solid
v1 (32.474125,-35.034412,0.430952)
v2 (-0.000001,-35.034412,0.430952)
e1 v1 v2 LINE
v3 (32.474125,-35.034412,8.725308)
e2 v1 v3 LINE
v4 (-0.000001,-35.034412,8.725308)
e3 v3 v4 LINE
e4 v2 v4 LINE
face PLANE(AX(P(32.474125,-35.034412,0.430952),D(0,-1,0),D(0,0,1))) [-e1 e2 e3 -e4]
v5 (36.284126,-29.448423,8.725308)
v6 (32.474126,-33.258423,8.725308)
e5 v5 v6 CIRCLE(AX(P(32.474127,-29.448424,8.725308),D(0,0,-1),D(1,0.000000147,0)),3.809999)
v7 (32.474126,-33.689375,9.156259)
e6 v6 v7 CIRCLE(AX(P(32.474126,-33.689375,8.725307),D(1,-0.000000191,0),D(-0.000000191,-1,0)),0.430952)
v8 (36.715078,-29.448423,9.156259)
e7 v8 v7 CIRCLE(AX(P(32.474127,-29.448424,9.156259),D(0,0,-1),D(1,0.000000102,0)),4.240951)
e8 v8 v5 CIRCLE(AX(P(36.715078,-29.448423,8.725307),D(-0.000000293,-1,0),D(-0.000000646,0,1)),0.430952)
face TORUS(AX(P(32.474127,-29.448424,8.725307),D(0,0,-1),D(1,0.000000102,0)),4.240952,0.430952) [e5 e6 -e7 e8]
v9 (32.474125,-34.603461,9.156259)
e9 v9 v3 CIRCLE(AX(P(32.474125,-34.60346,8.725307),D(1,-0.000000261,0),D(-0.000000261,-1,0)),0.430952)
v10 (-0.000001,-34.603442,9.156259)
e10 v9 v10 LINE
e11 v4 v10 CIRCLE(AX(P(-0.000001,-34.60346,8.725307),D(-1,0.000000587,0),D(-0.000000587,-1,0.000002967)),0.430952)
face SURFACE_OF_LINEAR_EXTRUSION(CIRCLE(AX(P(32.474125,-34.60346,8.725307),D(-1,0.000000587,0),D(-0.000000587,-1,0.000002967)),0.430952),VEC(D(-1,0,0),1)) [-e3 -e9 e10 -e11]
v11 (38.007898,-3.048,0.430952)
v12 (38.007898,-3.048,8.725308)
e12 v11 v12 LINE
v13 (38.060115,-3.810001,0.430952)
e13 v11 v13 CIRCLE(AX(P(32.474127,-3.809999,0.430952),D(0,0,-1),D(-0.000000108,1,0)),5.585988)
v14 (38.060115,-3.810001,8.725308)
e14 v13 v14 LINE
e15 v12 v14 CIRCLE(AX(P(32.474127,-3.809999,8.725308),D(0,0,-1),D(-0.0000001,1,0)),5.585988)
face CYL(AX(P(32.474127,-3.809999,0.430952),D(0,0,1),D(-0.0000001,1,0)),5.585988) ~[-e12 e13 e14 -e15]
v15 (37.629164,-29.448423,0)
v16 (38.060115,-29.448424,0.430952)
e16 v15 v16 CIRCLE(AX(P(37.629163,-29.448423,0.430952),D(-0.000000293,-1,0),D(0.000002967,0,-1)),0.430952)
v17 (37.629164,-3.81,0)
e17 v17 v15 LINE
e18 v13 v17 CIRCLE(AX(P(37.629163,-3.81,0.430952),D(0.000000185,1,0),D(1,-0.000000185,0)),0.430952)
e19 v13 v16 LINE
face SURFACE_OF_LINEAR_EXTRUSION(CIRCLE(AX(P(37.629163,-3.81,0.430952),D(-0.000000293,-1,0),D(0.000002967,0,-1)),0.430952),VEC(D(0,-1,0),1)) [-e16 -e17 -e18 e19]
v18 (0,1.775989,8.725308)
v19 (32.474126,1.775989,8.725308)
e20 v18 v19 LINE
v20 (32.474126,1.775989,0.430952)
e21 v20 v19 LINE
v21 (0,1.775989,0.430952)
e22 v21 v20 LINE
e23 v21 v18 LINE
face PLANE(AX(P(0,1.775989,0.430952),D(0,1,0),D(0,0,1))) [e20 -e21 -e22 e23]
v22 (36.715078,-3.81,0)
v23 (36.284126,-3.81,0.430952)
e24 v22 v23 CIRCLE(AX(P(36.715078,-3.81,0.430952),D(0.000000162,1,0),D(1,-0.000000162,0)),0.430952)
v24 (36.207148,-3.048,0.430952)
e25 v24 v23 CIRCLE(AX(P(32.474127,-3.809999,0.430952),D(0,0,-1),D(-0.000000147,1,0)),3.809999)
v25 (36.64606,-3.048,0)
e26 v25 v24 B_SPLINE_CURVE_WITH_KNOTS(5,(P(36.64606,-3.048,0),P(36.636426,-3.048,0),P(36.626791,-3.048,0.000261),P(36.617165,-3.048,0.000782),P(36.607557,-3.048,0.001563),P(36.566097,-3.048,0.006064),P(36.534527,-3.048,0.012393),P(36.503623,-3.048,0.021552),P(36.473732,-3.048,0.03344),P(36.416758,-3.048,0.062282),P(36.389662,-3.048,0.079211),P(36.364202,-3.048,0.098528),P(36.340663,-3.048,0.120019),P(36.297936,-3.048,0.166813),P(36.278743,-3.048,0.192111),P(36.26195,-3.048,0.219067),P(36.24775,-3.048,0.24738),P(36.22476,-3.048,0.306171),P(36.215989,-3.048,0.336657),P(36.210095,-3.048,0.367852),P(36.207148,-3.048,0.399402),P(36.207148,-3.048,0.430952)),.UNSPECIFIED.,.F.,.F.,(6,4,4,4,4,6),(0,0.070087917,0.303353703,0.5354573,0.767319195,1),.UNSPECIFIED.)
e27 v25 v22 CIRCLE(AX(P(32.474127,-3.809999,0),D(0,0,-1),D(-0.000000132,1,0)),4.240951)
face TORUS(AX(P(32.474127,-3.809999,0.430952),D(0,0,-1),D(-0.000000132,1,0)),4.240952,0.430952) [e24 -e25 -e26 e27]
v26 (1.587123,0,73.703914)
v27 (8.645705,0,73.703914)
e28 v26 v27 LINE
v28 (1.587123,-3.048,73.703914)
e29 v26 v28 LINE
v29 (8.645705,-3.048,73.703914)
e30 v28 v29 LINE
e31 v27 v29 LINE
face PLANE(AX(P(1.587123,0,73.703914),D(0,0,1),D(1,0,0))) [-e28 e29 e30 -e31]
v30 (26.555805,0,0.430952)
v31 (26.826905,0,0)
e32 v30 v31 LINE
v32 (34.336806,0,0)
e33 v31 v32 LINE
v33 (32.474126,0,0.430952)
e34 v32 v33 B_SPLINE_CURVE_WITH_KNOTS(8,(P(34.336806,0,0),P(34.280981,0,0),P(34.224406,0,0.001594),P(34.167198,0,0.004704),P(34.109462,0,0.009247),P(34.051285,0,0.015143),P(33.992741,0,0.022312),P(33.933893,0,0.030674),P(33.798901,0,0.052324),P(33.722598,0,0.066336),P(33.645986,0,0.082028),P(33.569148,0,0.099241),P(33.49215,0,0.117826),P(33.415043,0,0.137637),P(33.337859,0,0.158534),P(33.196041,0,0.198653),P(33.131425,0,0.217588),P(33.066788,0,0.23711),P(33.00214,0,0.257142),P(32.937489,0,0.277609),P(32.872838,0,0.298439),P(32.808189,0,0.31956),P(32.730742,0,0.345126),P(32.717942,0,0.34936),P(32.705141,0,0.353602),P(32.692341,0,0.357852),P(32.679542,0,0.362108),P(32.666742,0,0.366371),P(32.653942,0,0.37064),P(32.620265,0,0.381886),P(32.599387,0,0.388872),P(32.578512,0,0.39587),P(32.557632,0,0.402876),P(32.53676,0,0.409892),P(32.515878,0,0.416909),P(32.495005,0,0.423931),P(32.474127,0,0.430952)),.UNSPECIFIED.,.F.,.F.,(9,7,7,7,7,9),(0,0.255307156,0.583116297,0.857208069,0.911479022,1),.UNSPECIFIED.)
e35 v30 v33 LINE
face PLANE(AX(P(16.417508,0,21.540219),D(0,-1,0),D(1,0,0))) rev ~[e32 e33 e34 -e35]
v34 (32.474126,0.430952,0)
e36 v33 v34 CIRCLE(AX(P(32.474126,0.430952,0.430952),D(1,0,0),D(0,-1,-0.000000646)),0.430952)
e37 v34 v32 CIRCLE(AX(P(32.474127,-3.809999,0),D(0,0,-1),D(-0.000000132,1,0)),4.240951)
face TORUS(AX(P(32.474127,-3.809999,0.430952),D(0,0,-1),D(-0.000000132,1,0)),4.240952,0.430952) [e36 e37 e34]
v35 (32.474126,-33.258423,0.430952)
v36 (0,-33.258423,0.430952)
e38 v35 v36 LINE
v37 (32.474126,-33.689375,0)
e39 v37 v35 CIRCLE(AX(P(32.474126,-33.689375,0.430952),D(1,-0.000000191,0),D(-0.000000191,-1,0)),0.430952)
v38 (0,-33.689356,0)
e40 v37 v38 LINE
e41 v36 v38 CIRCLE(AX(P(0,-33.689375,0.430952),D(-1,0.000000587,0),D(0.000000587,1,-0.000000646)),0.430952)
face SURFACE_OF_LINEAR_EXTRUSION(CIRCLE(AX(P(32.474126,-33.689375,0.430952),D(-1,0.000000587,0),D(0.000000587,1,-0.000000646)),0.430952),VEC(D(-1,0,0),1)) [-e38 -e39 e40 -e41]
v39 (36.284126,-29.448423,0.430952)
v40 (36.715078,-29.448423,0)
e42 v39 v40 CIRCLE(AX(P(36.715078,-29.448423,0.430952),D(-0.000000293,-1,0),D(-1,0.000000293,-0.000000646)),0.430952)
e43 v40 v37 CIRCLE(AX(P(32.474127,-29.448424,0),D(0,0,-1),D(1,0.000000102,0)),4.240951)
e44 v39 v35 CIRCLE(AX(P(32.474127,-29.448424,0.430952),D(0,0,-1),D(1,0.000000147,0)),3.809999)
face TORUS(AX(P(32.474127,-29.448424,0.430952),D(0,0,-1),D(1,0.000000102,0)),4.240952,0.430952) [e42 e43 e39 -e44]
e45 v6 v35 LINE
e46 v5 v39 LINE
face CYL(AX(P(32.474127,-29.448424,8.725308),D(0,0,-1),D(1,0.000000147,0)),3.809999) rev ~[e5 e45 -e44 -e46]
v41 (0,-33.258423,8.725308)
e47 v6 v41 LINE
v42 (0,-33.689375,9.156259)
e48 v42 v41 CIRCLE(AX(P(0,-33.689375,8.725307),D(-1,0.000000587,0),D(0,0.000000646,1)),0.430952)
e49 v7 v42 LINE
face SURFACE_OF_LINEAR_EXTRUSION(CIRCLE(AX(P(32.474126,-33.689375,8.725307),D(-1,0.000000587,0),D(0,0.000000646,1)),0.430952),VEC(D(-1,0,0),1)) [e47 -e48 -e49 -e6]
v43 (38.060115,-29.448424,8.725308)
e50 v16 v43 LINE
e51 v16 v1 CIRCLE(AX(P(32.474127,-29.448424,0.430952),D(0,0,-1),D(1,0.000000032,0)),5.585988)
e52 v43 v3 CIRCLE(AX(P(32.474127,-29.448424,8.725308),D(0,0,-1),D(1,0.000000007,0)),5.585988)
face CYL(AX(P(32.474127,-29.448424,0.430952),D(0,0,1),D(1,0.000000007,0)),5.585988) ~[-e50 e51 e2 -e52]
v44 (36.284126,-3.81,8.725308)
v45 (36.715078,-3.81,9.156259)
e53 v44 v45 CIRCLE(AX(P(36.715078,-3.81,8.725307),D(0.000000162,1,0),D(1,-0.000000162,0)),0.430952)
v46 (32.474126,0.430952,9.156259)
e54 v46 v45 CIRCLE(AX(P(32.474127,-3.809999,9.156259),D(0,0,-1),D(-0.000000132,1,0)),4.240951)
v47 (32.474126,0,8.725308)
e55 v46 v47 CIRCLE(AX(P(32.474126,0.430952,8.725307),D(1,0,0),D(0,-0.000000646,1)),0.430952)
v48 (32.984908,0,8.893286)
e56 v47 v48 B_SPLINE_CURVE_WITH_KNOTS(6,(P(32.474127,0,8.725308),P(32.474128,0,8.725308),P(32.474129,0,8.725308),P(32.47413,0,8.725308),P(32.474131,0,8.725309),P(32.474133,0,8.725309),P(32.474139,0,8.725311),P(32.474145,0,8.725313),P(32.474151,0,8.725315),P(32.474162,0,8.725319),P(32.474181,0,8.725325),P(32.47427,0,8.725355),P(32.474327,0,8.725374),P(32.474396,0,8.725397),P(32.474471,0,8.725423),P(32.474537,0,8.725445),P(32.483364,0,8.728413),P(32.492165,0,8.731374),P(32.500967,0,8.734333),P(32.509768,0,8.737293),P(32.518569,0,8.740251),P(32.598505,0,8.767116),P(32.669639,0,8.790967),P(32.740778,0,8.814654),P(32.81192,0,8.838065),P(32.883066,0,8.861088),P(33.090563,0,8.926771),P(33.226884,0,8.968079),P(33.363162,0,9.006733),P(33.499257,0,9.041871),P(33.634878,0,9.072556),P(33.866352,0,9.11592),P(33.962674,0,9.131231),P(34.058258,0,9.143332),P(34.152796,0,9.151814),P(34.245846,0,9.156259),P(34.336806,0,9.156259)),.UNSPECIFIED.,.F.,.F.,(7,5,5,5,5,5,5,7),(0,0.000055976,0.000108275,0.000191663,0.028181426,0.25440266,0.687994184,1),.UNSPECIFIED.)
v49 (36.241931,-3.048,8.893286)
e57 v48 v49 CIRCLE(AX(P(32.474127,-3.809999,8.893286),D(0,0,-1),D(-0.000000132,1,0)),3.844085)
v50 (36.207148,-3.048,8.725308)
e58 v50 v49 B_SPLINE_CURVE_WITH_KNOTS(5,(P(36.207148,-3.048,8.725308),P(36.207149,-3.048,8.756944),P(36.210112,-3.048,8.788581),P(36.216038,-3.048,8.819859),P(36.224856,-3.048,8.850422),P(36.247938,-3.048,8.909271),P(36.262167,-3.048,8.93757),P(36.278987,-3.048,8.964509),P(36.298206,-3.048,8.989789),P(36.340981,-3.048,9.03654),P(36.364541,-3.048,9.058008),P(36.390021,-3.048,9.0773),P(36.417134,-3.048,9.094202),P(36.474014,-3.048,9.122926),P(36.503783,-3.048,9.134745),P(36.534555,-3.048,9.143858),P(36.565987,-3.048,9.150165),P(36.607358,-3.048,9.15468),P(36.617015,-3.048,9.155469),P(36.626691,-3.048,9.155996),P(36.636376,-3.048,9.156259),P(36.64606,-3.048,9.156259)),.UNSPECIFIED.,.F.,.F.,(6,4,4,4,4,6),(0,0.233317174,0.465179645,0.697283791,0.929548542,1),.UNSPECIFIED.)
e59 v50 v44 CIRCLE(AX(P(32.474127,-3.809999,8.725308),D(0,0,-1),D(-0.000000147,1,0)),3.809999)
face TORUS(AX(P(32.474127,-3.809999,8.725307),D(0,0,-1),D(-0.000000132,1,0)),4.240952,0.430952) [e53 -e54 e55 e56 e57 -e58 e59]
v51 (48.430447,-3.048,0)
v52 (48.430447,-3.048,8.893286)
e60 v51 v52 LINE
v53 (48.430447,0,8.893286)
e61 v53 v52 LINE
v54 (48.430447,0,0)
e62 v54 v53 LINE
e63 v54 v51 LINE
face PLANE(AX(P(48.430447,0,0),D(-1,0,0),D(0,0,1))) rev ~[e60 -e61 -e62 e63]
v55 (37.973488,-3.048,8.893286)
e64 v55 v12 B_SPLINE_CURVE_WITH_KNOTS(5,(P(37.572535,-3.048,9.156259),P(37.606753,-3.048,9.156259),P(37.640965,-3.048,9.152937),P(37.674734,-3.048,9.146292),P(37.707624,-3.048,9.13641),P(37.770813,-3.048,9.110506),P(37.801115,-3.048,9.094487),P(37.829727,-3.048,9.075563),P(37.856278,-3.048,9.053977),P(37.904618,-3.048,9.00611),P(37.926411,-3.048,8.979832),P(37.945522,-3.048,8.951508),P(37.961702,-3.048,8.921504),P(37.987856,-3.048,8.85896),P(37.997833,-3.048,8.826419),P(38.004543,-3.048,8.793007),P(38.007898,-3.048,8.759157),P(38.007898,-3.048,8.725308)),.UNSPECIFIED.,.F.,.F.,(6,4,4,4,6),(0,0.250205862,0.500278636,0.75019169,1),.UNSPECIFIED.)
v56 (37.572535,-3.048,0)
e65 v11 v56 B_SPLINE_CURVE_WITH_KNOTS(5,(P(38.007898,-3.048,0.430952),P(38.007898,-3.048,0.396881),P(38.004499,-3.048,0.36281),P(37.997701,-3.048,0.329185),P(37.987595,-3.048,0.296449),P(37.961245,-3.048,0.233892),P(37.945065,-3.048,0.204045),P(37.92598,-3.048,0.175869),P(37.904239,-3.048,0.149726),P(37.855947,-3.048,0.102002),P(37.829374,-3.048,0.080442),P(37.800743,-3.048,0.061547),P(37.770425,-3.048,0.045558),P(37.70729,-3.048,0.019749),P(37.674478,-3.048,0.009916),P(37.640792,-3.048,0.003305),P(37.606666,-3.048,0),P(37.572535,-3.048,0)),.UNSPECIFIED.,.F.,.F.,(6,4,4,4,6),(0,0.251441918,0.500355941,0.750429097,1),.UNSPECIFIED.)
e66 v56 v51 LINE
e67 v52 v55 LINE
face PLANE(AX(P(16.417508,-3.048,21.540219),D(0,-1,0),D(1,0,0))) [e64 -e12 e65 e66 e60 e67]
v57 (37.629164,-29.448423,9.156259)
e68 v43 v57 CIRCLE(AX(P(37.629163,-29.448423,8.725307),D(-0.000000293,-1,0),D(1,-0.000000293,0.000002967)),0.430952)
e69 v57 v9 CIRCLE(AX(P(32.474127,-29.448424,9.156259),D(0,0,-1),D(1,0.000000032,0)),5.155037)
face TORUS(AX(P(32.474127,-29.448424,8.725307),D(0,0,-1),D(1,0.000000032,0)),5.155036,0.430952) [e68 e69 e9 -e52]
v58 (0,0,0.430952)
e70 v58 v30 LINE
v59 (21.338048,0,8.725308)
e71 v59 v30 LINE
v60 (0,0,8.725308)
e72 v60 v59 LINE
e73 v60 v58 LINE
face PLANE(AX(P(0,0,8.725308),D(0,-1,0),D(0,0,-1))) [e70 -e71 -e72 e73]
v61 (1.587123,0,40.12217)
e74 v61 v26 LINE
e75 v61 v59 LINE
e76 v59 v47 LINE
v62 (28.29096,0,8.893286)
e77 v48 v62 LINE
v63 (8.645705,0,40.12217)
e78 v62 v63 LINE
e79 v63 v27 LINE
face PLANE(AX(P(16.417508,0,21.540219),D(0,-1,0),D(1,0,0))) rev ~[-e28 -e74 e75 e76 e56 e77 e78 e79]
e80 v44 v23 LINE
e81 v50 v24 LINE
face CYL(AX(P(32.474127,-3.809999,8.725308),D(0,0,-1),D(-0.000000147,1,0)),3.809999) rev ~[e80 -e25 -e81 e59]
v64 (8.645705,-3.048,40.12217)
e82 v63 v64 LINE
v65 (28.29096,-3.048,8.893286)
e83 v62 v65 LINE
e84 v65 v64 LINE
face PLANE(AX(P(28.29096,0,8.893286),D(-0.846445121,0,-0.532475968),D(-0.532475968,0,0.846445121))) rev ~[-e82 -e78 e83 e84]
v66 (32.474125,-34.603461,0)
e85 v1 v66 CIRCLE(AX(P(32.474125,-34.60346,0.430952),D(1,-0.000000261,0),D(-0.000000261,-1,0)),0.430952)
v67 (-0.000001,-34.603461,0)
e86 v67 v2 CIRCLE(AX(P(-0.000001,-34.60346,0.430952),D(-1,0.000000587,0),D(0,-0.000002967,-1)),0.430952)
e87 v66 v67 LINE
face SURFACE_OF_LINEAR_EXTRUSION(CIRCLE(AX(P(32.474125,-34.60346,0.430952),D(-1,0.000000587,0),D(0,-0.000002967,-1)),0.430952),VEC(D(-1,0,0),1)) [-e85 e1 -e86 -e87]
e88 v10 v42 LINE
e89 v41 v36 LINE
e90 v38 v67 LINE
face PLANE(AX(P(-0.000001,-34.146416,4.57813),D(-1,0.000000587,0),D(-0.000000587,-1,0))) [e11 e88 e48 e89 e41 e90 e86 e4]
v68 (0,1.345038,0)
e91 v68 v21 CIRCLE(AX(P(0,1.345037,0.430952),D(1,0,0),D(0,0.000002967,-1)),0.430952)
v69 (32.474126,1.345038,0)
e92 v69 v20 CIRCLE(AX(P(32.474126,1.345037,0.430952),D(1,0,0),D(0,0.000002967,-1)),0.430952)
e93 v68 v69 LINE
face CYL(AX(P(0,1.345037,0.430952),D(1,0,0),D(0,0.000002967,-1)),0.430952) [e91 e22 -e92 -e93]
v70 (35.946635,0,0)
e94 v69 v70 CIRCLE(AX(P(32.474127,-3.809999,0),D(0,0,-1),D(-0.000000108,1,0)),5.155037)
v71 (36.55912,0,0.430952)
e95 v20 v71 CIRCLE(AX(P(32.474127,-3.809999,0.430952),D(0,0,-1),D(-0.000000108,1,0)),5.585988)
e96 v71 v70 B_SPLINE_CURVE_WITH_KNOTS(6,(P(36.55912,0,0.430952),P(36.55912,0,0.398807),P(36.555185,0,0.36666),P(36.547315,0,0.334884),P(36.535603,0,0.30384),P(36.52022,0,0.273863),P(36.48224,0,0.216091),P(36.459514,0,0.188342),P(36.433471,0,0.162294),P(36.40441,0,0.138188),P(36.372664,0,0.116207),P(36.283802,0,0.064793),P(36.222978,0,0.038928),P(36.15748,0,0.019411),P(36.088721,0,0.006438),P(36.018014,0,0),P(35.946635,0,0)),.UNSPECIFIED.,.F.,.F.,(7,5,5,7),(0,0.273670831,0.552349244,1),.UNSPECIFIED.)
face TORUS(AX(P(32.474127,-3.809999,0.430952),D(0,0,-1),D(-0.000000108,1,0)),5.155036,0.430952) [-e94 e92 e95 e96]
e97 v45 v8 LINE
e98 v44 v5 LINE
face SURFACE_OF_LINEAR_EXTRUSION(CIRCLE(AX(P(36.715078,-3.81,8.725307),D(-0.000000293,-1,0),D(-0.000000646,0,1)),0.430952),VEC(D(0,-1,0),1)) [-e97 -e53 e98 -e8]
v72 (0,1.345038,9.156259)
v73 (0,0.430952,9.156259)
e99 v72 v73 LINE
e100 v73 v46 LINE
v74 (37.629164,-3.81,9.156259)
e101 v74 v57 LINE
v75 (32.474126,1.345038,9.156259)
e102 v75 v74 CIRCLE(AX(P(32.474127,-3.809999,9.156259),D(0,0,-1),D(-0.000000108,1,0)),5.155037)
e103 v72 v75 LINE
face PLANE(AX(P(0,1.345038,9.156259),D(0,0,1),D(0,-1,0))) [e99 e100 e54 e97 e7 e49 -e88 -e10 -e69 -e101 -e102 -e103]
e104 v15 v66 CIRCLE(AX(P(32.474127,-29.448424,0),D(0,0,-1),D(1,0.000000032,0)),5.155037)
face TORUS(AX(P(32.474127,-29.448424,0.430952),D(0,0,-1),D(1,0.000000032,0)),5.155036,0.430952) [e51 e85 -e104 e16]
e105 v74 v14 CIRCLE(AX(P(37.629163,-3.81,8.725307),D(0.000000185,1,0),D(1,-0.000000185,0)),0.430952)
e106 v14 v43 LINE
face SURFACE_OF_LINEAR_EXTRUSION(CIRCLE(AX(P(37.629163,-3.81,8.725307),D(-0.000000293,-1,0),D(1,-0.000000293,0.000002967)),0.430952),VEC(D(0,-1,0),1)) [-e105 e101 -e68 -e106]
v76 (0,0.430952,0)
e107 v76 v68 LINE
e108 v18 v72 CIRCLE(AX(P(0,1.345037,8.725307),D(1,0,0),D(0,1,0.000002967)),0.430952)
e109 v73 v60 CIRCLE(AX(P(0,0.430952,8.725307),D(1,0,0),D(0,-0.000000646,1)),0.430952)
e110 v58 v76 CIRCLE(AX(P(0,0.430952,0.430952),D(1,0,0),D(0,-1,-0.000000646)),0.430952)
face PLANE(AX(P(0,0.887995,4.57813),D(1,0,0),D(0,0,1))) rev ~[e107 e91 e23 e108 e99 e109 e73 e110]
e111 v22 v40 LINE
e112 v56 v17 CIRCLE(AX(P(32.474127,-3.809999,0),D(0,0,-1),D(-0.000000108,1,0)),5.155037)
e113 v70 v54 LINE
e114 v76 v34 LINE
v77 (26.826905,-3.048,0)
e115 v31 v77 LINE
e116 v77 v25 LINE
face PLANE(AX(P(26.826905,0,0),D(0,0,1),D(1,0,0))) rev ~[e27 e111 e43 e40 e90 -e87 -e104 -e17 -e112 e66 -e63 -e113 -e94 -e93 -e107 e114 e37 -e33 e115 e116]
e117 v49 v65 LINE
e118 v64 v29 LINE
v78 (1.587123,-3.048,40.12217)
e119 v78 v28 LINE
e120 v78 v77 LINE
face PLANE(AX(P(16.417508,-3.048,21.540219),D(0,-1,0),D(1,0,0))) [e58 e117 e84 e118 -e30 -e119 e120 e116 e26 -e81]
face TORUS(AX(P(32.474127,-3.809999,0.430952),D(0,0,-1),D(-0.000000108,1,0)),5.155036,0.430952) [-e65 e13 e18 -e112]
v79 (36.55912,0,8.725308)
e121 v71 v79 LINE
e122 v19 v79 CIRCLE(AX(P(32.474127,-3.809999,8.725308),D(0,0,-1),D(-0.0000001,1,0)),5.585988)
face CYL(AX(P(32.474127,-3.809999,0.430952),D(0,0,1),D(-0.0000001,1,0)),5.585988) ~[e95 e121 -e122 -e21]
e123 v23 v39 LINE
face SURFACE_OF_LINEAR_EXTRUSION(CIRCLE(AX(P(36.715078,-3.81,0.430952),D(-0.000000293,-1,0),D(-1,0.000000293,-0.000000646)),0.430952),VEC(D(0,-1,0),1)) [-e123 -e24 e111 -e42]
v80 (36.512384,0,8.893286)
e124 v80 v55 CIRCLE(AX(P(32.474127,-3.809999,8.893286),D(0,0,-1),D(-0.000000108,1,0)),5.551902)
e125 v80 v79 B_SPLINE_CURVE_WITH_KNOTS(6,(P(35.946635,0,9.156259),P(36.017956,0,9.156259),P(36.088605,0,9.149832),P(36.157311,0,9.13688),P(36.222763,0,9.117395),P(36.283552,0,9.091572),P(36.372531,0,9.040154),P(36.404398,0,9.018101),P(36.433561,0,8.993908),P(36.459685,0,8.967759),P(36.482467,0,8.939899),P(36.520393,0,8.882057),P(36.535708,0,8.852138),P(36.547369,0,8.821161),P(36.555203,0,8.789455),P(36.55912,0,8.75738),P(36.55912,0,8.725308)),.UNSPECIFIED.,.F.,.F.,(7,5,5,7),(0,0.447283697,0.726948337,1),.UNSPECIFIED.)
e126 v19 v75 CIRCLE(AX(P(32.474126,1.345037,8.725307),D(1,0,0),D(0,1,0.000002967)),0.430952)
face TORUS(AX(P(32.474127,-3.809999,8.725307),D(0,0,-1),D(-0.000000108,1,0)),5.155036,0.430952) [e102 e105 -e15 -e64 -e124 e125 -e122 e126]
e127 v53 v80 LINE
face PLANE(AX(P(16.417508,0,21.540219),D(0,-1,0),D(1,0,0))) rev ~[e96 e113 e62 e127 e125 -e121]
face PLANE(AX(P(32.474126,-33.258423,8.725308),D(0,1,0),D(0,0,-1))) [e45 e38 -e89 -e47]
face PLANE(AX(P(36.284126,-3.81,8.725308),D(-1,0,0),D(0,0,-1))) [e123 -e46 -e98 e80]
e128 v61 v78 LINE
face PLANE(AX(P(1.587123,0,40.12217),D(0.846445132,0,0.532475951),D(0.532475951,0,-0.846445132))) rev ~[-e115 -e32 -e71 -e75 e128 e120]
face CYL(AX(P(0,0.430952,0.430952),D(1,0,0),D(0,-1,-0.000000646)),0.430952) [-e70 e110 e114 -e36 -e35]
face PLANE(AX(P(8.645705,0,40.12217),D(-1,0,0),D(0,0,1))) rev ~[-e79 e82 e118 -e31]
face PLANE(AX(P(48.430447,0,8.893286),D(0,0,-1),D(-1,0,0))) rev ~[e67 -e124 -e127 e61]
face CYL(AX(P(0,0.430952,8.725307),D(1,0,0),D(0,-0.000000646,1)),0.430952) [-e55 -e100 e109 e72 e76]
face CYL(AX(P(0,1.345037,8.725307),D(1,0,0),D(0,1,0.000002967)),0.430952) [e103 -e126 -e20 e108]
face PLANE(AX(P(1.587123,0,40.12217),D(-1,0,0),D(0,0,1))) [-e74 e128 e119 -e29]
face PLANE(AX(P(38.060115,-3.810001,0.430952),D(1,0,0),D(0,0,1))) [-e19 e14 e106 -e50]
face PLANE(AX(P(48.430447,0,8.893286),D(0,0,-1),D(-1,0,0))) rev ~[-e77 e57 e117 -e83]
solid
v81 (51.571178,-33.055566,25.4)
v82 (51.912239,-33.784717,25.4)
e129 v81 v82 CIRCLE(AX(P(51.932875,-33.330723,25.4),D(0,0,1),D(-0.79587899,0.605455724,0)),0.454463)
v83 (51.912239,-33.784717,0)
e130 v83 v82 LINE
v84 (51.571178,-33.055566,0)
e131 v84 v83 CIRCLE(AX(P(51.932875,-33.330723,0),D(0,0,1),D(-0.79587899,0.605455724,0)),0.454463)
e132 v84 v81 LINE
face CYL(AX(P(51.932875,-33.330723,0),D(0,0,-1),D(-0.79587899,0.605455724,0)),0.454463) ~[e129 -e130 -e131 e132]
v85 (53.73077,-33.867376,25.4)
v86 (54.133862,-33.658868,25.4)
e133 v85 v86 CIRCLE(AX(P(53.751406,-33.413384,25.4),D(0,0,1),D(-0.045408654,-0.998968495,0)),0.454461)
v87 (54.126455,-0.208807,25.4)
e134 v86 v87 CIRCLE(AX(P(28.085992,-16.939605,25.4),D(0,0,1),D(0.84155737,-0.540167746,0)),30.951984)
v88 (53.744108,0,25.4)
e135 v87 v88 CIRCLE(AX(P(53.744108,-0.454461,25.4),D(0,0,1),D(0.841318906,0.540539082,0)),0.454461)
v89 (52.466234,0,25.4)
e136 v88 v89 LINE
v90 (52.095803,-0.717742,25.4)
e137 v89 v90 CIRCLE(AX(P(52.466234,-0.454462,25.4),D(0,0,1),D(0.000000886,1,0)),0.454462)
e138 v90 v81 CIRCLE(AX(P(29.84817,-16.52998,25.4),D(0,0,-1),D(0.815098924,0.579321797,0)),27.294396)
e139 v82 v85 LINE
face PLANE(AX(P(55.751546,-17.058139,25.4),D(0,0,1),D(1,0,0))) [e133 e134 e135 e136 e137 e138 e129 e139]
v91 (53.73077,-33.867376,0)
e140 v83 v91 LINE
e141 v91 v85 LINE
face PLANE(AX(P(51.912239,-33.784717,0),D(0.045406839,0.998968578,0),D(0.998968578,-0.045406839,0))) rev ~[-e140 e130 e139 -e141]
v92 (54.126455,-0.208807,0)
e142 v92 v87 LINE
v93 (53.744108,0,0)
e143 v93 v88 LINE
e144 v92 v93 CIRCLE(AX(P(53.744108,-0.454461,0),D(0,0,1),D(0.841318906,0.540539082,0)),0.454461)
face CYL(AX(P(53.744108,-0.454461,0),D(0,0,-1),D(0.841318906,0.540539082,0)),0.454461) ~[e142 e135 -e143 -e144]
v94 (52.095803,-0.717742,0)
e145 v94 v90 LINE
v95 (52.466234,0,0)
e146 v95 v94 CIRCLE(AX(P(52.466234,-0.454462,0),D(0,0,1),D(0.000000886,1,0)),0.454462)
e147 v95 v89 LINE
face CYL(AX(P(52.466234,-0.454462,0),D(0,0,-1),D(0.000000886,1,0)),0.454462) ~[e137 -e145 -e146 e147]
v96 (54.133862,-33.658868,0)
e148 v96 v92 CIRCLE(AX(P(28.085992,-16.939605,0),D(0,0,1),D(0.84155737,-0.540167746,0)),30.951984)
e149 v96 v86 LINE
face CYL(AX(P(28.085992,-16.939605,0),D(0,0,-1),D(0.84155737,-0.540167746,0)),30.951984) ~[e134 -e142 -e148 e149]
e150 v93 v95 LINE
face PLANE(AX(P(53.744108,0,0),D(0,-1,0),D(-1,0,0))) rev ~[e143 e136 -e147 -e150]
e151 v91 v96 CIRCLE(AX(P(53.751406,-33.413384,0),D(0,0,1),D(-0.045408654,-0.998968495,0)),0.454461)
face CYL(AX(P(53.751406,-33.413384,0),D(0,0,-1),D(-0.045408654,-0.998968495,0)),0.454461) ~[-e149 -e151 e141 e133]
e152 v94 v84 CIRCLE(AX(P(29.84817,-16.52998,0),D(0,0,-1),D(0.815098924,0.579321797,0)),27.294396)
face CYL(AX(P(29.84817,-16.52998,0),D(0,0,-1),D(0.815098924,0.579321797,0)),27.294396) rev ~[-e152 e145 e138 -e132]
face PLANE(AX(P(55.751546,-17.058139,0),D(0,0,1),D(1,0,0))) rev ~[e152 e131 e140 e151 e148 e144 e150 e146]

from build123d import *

# Parameters (mm, degrees)
F5_DEPTH = 25.4
F6_W     = 7.058582
F6_H     = 33.581745
F7_DEPTH = 3.048


with BuildPart() as f2:
    # F2: sweep along a path in F0
    with BuildLine(Plane.XY) as f2_path:
        Line((0, 0), (32.474126, 0))
        ThreePointArc((32.474126, 0), (35.168203, -1.115923), (36.284126, -3.81))
        Line((36.284126, -3.81), (36.284126, -29.448423))
        ThreePointArc((36.284126, -29.448423), (35.168203, -32.1425), (32.474126, -33.258423))
        Line((32.474126, -33.258423), (0, -33.258423))
    # F1 (on Right) → F2 (sweep)
    with BuildSketch(Plane.YZ):
        with BuildLine():
            Line((0, 8.725308), (0, 0.430952))
            ThreePointArc((0, 0.430952), (0.126223, 0.126223), (0.430952, 0))
            Line((0.430952, 0), (1.345038, 0))
            ThreePointArc((1.345038, 0), (1.649766, 0.126223), (1.775989, 0.430952))
            Line((1.775989, 0.430952), (1.775989, 8.725308))
            ThreePointArc((1.775989, 8.725308), (1.649766, 9.030036), (1.345038, 9.156259))
            Line((1.345038, 9.156259), (0.430952, 9.156259))
            ThreePointArc((0.430952, 9.156259), (0.126223, 9.030036), (0, 8.725308))
        make_face()
    sweep(path=f2_path.line)

    # F6 (on Front) → F7 (join)
    with BuildSketch(Plane.XZ):
        Polygon((1.587123, 40.12217), (26.826905, 0), (26.826905, 8.893286), (28.29096, 8.893286), (8.645705, 40.12217), align=None)
        with Locations((5.116414, 56.913042)):
            Rectangle(F6_W, F6_H)
        Polygon((33.885487, 0), (48.002653, 0), (48.430447, 0), (48.430447, 8.893286), (28.29096, 8.893286), align=None)
        Polygon((26.826905, 0), (33.885487, 0), (28.29096, 8.893286), (26.826905, 8.893286), align=None)
    extrude(amount=F7_DEPTH)


with BuildPart() as f5:
    # F3 (on Top) → F5 (new body)
    with BuildSketch(Plane.XY):
        with BuildLine():
            ThreePointArc((53.73077, -33.867376), (53.960206, -33.817039), (54.133862, -33.658868))
            ThreePointArc((54.133862, -33.658868), (59.037975, -16.932751), (54.126455, -0.208807))
            ThreePointArc((54.126455, -0.208807), (53.961932, -0.055603), (53.744108, 0))
            Line((53.744108, 0), (52.466234, 0))
            ThreePointArc((52.466234, 0), (52.062386, -0.246033), (52.095803, -0.717742))
            ThreePointArc((52.095803, -0.717742), (57.138975, -16.972726), (51.571178, -33.055566))
            ThreePointArc((51.571178, -33.055566), (51.52122, -33.523275), (51.912239, -33.784717))
            Line((51.912239, -33.784717), (53.73077, -33.867376))
        make_face()
    extrude(amount=F5_DEPTH)


solid = Compound([f2.part, f5.part])
